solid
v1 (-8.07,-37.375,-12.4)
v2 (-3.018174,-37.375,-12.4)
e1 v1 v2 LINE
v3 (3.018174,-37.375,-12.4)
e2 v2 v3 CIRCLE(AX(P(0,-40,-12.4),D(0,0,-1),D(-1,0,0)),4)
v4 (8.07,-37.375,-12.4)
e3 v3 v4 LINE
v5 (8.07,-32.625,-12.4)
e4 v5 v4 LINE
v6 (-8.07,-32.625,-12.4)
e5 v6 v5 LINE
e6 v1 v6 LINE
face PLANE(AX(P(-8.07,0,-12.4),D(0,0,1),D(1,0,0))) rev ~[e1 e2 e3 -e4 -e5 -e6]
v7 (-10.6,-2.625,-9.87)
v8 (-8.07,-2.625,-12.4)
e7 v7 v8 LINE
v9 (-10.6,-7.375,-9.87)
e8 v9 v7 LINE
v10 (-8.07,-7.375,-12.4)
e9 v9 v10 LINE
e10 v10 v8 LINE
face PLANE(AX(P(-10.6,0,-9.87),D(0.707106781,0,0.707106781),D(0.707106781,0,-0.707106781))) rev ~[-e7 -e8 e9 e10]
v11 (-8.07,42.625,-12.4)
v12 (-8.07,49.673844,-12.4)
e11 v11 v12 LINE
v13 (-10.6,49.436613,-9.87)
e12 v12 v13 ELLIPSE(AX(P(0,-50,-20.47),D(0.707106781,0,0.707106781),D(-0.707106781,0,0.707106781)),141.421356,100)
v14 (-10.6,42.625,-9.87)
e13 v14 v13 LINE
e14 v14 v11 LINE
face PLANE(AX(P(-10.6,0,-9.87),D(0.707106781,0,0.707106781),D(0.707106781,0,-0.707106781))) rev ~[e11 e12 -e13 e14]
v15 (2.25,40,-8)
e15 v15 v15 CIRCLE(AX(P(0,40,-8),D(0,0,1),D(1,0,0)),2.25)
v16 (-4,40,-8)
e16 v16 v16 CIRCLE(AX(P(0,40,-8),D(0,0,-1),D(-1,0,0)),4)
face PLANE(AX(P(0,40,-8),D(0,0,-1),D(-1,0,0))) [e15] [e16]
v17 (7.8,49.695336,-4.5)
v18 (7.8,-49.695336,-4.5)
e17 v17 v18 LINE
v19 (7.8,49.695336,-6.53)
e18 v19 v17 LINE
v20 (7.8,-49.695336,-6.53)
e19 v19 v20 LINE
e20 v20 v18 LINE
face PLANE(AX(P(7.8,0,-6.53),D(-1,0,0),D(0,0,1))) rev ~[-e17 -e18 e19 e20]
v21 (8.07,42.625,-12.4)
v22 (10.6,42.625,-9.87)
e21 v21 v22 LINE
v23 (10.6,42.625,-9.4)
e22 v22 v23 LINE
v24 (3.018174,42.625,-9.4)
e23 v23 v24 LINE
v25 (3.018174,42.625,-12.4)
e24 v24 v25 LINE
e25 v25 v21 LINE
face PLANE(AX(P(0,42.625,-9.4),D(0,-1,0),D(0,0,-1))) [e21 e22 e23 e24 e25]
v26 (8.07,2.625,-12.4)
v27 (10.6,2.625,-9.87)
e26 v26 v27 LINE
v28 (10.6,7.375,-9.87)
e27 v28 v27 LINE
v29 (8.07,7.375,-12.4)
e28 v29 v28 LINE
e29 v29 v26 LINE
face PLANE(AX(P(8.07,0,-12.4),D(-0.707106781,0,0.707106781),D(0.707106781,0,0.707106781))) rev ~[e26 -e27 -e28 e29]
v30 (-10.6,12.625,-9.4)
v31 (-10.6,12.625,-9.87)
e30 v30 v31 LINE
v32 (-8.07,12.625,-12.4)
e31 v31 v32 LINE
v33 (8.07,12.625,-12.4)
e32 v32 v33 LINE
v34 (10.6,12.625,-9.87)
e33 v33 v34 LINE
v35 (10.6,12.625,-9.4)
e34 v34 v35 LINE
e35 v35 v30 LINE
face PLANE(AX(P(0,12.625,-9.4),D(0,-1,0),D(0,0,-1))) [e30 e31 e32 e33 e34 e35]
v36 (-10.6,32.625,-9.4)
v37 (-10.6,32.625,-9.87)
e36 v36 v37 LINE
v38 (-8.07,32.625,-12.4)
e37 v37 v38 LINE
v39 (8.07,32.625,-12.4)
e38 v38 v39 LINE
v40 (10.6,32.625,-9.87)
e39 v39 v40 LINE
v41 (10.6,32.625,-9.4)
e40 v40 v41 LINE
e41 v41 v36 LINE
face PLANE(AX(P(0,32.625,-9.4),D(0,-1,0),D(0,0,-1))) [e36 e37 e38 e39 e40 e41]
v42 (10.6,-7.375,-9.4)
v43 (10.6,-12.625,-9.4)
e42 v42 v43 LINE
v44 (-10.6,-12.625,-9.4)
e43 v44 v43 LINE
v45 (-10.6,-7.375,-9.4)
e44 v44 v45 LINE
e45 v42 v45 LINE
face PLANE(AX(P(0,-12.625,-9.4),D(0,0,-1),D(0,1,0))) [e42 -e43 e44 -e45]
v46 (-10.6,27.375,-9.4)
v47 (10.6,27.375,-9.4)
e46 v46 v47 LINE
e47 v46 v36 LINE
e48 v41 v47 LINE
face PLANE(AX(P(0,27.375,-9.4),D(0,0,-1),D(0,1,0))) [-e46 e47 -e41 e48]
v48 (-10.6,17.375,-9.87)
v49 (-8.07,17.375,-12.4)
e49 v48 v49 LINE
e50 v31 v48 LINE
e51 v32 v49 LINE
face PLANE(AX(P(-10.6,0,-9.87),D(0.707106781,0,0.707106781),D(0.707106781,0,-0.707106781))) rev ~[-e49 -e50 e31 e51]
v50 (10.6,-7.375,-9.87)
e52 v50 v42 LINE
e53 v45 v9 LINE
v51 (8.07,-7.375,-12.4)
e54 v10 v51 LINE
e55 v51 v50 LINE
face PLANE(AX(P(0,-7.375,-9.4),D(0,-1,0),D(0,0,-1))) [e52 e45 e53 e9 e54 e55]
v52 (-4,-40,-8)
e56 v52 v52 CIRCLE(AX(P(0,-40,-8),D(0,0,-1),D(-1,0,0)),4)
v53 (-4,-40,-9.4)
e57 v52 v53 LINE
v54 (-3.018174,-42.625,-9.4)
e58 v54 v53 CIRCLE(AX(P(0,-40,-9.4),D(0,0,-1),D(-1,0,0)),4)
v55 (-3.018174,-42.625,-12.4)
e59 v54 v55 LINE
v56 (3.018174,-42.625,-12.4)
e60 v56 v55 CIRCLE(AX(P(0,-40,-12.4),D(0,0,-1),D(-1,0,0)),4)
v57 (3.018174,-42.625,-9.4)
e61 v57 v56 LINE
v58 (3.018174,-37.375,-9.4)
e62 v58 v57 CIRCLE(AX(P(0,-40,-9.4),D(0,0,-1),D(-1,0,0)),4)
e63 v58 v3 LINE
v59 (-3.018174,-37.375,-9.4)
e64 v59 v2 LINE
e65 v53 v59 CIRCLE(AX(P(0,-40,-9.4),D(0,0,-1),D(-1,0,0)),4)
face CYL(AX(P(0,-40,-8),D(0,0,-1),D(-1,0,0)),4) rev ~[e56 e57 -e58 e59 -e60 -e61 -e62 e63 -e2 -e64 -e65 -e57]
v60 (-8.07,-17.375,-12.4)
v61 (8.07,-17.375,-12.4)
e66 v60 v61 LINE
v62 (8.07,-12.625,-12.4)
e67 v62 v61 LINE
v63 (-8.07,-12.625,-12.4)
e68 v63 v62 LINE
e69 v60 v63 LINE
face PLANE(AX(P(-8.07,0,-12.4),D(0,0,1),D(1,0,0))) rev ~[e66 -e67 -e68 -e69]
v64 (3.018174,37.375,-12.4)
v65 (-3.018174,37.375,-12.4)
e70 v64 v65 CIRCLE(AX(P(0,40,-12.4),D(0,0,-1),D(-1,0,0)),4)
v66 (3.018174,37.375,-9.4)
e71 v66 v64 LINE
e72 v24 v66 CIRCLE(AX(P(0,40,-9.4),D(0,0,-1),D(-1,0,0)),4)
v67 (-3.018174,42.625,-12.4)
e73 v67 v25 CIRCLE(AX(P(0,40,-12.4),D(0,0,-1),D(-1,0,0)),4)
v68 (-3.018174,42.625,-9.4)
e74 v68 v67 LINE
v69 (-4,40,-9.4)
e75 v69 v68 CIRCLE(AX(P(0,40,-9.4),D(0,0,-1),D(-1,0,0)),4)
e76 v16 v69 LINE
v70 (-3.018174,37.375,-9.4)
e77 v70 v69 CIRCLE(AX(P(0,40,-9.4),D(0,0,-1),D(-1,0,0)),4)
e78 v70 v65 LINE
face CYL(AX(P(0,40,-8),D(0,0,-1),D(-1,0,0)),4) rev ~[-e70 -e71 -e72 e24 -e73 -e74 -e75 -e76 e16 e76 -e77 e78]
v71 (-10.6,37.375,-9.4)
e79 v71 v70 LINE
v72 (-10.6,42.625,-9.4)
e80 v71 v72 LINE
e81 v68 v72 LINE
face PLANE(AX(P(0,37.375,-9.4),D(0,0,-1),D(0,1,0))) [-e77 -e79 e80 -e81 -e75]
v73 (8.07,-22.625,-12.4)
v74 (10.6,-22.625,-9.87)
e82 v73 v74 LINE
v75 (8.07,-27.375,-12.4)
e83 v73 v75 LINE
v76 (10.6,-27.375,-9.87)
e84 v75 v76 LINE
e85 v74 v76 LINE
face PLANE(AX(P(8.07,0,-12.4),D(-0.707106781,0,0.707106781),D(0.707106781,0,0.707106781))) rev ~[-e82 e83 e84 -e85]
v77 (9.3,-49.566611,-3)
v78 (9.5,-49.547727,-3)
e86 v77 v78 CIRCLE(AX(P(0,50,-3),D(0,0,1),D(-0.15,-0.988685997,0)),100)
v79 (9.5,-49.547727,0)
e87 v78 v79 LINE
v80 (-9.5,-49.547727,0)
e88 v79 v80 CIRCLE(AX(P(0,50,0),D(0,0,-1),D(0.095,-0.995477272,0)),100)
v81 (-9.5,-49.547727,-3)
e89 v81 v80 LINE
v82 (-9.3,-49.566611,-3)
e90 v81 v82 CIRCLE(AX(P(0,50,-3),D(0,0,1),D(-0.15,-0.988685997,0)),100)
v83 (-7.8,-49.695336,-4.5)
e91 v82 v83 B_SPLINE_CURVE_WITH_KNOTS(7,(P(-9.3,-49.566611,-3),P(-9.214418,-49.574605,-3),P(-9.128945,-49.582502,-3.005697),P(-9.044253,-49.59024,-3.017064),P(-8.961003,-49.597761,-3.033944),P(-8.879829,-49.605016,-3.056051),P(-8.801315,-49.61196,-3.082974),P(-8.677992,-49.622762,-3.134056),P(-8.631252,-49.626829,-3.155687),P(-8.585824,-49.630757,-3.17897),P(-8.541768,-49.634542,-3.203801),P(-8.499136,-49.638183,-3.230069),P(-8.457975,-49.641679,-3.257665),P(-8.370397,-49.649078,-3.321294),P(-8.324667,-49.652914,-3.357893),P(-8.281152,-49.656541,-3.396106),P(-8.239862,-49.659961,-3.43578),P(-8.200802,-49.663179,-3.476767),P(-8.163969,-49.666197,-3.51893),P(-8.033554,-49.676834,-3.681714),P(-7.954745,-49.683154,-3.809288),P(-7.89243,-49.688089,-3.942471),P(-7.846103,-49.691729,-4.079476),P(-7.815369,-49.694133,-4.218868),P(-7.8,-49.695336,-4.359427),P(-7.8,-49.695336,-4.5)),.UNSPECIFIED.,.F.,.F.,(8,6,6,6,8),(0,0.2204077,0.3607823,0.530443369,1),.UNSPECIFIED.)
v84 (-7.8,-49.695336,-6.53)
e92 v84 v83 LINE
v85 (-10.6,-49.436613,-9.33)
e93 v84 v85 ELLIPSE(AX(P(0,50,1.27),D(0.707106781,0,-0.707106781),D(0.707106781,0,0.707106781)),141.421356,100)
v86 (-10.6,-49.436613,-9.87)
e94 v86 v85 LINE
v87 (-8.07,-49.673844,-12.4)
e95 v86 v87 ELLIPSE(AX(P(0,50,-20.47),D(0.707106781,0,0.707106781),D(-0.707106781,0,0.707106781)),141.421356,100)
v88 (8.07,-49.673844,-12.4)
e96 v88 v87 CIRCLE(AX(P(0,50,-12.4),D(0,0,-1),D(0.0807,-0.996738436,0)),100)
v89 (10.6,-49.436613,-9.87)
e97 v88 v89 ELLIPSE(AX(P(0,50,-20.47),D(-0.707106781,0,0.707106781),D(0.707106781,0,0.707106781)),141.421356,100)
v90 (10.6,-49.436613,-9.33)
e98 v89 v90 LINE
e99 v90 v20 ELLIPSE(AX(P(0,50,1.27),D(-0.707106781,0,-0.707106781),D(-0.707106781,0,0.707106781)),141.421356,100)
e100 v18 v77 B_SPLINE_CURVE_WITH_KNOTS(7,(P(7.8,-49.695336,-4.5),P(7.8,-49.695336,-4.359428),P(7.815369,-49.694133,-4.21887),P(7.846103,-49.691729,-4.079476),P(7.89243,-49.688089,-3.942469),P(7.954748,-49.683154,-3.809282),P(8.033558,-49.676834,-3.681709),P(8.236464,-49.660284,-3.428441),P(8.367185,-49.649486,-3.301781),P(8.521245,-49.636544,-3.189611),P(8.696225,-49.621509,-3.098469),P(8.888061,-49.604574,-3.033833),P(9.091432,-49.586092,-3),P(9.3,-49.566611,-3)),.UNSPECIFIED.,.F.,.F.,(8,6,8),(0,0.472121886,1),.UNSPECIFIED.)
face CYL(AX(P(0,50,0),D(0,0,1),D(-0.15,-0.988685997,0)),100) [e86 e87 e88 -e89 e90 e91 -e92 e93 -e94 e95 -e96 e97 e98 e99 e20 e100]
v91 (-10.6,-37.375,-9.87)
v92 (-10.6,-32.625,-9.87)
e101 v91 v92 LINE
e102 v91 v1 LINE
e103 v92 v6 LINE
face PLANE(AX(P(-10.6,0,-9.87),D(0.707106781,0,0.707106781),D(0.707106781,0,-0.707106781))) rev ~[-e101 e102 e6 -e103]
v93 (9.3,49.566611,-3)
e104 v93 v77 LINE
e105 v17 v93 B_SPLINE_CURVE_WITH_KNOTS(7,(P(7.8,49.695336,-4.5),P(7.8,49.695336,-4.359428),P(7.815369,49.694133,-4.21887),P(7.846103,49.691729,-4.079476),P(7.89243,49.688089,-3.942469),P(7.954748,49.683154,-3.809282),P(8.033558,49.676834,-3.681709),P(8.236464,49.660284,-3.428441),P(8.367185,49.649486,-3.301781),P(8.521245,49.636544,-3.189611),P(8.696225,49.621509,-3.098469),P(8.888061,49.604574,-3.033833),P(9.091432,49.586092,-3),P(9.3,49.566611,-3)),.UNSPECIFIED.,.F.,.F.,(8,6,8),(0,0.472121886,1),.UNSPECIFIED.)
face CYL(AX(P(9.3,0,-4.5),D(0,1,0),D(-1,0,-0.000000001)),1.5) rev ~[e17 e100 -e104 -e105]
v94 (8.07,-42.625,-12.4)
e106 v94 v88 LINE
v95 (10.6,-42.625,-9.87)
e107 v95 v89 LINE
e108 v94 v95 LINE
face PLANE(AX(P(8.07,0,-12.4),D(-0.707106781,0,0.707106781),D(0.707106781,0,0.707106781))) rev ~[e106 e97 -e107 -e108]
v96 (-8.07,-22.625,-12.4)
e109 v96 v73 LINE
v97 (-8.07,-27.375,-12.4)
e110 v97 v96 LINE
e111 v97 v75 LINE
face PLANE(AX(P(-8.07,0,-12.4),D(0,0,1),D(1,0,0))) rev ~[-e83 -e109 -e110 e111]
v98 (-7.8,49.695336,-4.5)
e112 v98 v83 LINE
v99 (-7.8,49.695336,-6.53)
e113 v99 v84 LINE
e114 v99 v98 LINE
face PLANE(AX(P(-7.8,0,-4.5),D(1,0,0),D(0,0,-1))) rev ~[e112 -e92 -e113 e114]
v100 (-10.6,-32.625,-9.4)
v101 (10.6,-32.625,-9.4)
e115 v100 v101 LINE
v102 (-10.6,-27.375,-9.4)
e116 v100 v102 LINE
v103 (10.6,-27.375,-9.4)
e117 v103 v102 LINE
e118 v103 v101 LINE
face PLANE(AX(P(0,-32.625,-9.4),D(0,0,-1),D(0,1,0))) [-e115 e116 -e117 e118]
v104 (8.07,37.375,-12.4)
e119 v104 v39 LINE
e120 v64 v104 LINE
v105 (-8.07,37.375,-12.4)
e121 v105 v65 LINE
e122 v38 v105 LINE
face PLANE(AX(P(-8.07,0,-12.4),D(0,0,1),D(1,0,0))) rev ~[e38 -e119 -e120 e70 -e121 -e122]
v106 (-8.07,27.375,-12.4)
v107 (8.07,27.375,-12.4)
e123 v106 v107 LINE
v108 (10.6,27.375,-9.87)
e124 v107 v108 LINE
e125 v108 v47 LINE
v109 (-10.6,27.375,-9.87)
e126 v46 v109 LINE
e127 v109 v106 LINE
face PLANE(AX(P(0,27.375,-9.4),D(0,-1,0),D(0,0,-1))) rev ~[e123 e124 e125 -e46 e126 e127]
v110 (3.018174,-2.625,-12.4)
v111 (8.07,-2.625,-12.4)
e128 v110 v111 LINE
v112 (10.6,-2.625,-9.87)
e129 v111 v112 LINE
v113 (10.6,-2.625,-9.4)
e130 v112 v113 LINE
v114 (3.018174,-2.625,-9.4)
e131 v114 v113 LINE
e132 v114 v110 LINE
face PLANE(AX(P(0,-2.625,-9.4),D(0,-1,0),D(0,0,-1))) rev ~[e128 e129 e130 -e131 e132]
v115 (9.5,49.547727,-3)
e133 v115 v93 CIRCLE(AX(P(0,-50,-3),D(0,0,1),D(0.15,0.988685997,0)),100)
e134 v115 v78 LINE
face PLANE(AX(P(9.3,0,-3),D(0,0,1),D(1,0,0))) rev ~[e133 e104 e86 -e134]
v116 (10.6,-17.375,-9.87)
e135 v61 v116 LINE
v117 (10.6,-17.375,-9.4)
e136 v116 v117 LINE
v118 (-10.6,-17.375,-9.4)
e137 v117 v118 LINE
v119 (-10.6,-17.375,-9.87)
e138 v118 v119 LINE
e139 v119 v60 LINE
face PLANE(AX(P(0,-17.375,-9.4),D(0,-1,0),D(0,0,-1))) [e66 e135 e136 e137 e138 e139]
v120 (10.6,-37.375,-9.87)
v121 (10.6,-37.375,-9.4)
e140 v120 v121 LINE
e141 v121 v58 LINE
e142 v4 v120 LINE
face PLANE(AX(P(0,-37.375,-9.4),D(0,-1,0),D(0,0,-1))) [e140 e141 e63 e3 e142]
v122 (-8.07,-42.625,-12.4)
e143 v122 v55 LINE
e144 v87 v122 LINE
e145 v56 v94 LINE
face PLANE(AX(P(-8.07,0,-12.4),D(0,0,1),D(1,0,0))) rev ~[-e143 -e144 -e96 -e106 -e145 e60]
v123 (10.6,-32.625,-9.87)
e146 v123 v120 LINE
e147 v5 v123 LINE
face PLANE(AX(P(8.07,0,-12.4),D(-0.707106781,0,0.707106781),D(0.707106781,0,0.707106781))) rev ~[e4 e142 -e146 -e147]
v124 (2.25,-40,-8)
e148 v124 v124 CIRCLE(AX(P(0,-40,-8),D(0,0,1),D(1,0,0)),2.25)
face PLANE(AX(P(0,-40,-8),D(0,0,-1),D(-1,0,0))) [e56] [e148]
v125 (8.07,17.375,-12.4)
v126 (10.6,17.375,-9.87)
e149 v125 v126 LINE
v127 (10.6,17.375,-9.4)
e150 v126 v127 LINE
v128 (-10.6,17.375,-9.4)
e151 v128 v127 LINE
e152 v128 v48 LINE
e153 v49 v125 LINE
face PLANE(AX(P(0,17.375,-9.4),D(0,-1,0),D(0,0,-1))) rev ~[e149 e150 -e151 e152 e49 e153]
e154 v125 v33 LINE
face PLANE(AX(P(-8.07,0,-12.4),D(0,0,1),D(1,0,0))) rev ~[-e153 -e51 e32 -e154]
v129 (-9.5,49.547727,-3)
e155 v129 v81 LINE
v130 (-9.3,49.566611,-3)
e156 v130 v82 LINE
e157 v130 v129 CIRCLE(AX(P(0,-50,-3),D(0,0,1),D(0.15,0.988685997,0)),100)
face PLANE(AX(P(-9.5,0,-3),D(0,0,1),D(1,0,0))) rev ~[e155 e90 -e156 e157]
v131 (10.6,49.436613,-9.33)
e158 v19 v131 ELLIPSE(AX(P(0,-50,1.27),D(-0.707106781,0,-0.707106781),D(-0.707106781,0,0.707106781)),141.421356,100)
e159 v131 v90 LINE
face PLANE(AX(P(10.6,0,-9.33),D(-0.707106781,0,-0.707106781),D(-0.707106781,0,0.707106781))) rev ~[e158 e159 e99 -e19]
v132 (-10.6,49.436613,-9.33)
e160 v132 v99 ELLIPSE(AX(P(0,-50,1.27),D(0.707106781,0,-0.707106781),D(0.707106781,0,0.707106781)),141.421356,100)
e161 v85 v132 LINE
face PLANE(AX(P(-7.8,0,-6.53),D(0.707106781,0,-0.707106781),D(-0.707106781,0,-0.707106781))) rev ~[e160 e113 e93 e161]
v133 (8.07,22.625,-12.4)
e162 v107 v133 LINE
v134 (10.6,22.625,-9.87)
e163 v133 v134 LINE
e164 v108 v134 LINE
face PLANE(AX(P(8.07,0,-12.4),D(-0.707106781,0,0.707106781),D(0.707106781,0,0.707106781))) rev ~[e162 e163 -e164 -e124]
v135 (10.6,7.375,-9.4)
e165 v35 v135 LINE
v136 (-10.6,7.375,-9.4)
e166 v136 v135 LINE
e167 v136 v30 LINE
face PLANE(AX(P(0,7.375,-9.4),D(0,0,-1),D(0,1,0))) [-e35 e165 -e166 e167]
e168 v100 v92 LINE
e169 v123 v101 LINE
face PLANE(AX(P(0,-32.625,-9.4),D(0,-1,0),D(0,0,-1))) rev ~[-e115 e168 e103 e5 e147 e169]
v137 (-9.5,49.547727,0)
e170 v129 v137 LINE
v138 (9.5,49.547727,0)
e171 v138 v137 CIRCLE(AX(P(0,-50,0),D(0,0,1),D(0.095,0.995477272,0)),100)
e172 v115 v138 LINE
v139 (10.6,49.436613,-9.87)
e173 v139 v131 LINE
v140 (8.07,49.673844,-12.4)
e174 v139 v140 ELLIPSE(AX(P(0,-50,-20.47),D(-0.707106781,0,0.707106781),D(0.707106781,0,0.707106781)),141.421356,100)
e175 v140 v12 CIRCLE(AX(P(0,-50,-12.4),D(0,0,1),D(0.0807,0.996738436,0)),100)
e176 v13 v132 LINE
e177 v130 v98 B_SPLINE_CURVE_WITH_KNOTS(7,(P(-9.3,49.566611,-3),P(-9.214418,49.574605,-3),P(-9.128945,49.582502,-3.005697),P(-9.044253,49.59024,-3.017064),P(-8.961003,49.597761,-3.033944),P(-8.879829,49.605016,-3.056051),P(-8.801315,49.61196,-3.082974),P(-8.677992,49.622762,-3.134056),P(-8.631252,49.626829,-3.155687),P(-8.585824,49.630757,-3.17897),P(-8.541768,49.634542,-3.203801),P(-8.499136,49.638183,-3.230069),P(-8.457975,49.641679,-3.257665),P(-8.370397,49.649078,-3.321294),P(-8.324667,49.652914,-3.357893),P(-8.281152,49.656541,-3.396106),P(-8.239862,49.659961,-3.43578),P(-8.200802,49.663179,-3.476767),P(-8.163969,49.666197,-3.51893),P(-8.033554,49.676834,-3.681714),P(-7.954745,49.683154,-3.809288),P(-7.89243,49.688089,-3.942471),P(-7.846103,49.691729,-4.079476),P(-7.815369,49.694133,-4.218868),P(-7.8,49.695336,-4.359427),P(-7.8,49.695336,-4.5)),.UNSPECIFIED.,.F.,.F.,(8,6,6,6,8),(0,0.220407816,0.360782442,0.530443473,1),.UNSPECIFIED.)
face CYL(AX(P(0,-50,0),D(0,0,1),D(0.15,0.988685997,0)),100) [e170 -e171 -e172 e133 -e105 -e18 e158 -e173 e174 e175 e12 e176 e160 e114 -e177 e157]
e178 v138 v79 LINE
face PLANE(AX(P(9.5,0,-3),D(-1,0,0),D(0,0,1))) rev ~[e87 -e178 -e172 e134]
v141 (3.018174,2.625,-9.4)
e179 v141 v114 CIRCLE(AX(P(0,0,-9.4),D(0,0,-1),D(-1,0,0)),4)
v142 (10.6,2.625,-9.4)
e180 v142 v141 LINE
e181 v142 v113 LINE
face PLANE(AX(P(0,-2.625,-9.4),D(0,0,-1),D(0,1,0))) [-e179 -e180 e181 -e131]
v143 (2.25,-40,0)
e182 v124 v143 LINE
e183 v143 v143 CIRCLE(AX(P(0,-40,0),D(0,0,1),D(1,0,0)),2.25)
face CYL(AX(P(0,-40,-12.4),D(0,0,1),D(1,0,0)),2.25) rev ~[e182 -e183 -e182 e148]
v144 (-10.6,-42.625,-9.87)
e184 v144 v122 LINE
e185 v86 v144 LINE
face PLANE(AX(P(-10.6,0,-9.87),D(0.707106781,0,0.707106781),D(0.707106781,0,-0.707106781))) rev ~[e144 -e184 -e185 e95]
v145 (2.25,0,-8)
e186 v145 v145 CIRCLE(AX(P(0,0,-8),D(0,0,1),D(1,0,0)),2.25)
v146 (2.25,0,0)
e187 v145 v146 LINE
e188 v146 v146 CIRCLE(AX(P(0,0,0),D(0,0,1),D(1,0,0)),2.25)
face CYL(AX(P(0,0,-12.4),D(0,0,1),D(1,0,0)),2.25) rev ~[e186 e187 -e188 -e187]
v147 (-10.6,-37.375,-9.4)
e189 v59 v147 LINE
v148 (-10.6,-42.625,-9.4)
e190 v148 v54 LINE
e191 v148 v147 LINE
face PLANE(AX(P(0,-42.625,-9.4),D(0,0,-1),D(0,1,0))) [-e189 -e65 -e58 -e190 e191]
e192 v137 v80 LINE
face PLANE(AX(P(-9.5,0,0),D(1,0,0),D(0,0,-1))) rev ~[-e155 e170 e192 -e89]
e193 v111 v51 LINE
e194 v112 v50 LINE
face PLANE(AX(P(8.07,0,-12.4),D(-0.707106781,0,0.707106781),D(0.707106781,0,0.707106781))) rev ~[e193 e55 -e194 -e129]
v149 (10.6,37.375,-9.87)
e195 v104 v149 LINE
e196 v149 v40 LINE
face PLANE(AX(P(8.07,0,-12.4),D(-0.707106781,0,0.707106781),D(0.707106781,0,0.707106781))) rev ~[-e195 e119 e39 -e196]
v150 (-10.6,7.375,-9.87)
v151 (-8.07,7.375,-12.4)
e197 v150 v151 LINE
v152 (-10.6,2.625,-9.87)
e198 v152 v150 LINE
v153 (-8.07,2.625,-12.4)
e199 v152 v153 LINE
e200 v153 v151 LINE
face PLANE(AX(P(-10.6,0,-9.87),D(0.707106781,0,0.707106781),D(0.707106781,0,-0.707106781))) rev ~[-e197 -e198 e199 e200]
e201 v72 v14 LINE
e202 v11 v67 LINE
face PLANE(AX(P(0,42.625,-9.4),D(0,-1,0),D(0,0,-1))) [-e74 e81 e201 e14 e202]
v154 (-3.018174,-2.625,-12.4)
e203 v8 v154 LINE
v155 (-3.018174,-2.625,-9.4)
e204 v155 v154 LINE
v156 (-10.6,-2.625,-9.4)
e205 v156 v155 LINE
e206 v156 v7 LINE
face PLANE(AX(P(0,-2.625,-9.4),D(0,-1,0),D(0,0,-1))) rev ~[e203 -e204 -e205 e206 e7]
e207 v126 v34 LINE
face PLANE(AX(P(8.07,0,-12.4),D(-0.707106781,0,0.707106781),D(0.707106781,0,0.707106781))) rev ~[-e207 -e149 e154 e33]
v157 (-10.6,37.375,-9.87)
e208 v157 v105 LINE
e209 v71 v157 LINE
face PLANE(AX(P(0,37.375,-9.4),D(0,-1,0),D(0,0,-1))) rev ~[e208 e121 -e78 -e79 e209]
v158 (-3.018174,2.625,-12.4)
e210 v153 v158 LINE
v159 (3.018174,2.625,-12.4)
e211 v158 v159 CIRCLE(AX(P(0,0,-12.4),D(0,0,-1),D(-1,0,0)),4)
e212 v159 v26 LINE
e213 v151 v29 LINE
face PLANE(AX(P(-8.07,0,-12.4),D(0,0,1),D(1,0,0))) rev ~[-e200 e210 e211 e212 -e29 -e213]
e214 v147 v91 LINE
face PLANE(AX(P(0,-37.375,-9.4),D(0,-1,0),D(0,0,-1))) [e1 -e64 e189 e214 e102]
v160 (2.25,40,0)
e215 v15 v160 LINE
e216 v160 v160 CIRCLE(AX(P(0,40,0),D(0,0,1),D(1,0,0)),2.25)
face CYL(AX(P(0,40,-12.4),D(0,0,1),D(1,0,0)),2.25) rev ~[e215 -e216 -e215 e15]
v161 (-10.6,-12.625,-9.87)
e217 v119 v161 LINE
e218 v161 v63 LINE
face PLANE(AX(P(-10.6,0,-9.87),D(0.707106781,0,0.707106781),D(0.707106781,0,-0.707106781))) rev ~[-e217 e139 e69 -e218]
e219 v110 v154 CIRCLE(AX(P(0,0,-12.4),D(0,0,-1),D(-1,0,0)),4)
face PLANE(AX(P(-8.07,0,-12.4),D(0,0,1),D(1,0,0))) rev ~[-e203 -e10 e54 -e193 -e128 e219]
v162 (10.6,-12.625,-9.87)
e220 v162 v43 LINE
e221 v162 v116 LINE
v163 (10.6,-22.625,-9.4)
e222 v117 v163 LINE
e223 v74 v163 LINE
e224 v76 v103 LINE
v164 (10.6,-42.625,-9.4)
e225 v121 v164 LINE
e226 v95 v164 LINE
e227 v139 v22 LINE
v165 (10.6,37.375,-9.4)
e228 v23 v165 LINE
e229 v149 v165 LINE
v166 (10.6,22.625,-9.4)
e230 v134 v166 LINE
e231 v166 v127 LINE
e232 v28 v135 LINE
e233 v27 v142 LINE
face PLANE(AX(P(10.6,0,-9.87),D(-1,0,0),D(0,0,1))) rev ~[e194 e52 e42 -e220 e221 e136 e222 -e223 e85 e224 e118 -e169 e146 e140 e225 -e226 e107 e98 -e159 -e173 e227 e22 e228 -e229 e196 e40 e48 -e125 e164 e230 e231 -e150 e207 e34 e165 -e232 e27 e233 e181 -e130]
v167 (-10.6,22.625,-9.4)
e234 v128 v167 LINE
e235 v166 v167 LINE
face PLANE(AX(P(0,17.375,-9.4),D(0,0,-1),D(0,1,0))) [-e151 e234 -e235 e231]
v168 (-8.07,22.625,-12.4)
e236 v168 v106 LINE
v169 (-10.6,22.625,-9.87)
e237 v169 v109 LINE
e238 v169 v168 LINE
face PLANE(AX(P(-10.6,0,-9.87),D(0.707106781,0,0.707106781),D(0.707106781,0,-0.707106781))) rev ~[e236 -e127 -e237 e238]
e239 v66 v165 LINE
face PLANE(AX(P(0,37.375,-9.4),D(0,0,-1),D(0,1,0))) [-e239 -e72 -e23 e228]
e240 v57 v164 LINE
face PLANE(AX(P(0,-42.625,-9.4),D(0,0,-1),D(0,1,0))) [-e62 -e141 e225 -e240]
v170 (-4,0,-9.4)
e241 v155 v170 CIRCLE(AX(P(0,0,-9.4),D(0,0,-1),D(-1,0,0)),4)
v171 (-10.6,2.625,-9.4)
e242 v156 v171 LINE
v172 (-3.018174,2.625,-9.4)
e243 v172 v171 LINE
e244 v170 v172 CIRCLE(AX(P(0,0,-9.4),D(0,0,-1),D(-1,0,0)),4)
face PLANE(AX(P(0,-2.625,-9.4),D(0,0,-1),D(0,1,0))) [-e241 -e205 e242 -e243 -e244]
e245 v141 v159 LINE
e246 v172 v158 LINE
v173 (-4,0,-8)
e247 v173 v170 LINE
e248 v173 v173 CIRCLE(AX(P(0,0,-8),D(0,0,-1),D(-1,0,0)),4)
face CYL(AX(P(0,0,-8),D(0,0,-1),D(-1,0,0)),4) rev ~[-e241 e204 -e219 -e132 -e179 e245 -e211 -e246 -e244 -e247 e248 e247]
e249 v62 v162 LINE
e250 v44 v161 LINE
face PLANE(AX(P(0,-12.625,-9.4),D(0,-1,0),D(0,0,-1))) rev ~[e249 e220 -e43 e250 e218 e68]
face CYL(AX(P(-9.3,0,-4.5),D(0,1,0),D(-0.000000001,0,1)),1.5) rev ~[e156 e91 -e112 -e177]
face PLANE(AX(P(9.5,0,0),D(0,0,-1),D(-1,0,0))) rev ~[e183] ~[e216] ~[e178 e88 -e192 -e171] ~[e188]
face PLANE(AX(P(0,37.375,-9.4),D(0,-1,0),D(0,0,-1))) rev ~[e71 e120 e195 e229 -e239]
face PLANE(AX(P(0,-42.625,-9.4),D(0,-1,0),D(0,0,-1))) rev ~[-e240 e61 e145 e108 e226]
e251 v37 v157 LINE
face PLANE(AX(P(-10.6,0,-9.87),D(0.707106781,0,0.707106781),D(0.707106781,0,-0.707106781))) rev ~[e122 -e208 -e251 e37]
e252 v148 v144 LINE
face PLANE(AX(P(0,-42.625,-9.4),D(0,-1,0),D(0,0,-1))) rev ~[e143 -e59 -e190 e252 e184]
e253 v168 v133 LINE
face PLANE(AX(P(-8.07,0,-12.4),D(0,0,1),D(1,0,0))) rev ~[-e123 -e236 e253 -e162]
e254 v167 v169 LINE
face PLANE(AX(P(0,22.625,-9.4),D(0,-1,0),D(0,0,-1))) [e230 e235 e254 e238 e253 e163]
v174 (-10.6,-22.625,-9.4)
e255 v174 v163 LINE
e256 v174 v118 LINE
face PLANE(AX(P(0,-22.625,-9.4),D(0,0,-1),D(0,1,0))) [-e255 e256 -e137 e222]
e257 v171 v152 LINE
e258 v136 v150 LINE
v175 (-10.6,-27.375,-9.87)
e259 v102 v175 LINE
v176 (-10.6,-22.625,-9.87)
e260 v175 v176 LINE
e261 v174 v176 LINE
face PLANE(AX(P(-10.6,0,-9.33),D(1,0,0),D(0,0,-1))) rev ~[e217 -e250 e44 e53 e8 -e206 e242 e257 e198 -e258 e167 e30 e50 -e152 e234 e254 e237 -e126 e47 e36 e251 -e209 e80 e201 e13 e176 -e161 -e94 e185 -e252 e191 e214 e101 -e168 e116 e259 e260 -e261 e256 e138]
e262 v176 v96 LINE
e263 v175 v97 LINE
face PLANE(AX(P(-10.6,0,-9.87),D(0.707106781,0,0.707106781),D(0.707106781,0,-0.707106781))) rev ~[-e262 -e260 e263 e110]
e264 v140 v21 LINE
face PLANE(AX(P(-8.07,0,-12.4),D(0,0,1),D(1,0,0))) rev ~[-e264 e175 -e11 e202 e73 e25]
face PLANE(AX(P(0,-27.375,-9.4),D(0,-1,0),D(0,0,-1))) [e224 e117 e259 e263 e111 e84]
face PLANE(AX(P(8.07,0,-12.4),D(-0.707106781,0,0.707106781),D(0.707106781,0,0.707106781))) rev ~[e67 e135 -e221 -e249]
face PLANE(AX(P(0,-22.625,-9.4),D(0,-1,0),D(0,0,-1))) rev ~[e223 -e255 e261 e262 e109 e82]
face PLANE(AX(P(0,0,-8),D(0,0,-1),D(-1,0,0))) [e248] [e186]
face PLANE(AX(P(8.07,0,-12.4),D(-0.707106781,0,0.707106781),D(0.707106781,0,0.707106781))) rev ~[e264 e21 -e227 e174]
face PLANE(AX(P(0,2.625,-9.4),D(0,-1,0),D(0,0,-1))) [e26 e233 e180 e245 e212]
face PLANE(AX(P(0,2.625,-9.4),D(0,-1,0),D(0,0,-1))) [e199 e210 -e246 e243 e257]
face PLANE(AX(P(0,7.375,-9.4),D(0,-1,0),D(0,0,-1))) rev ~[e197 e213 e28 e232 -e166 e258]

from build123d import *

# Parameters (mm, degrees)
BOSS_EXTRUDE1_DEPTH                                 = 50
SKETCH2_W                                           = 5
SKETCH2_H                                           = 5.25
CUT_EXTRUDE1_DEPTH                                  = 50
LPATTERN1_COUNT                                     = 5
LPATTERN1_PITCH                                     = 10
LPATTERN1_COL_COUNT                                 = 5
LPATTERN1_COL_PITCH                                 = 10
SKETCH3_OUTSIDE_W                                   = 43.794
SKETCH3_OUTSIDE_H                                   = 122.594
CUT_EXTRUDE2_DEPTH                                  = 50
CBORE_FOR_M4_HEX_SOCKET_HEAD_CAP_SCREW1_D           = 4.5
CBORE_FOR_M4_HEX_SOCKET_HEAD_CAP_SCREW1_CBORE_D     = 8
CBORE_FOR_M4_HEX_SOCKET_HEAD_CAP_SCREW1_CBORE_DEPTH = 4.4


with BuildPart() as part:
    # Sketch1 → Boss-Extrude1 (new, symmetric)
    with BuildSketch(Plane(origin=(0, 0, 0), x_dir=(1, 0, 0), z_dir=(0, 1, 0))):
        with BuildLine():
            Line((-8.07, 12.4), (8.07, 12.4))
            Line((8.07, 12.4), (10.6, 9.87))
            Line((10.6, 9.87), (10.6, 9.33))
            Line((10.6, 9.33), (7.8, 6.53))
            Line((7.8, 6.53), (7.8, 4.5))
            ThreePointArc((7.8, 4.5), (8.239339828, 3.439339828), (9.3, 3))
            Line((9.3, 3), (9.5, 3))
            Line((9.5, 3), (9.5, 0))
            Line((9.5, 0), (-9.5, 0))
            Line((-9.5, 0), (-9.5, 3))
            Line((-9.5, 3), (-9.3, 3))
            ThreePointArc((-9.3, 3), (-8.239339828, 3.439339828), (-7.8, 4.5))
            Line((-7.8, 4.5), (-7.8, 6.53))
            Line((-7.8, 6.53), (-10.6, 9.33))
            Line((-10.6, 9.33), (-10.6, 9.87))
            Line((-10.6, 9.87), (-8.07, 12.4))
        make_face()
    extrude(amount=BOSS_EXTRUDE1_DEPTH, both=True)

    # Sketch2 → Cut-Extrude1 (cut, symmetric)
    with BuildSketch(Plane(origin=(0, 0, 0), x_dir=(0, 0, -1), z_dir=(1, 0, 0))):
        with Locations((11.9, 0)):
            Rectangle(SKETCH2_W, SKETCH2_H)
    cut_extrude1 = extrude(amount=CUT_EXTRUDE1_DEPTH, both=True, mode=Mode.SUBTRACT)

    # LPattern1: Cut-Extrude1 ×5
    with Locations(*[(0, i * LPATTERN1_PITCH, 0) for i in range(1, LPATTERN1_COUNT)]):
        add(cut_extrude1, mode=Mode.SUBTRACT)

    # LPattern1 col: Cut-Extrude1 ×5
    with Locations(*[(0, -i * LPATTERN1_COL_PITCH, 0) for i in range(1, LPATTERN1_COL_COUNT)]):
        add(cut_extrude1, mode=Mode.SUBTRACT)

    # Sketch3 outside → Cut-Extrude2 (cut, symmetric)
    with BuildSketch(Plane.XY):
        Rectangle(SKETCH3_OUTSIDE_W, SKETCH3_OUTSIDE_H)
        with BuildLine():
            Line((-15, 48.868599666), (-15, -48.868599666))
            ThreePointArc((-15, -48.868599666), (0, -50), (15, -48.868599666))
            Line((15, -48.868599666), (15, 48.868599666))
            ThreePointArc((15, 48.868599666), (0, 50), (-15, 48.868599666))
        make_face(mode=Mode.SUBTRACT)
    extrude(amount=CUT_EXTRUDE2_DEPTH, both=True, mode=Mode.SUBTRACT)

    # CBORE for M4 Hex Socket Head Cap Screw1 (through all)
    with Locations(Plane(origin=(0, 0, -12.4), x_dir=(-1, 0, 0), z_dir=(0, 0, -1))):
        with Locations((0, 40), (0, -40), (0, 0)):
            CounterBoreHole(CBORE_FOR_M4_HEX_SOCKET_HEAD_CAP_SCREW1_D / 2, CBORE_FOR_M4_HEX_SOCKET_HEAD_CAP_SCREW1_CBORE_D / 2, CBORE_FOR_M4_HEX_SOCKET_HEAD_CAP_SCREW1_CBORE_DEPTH)


solid = part.part
